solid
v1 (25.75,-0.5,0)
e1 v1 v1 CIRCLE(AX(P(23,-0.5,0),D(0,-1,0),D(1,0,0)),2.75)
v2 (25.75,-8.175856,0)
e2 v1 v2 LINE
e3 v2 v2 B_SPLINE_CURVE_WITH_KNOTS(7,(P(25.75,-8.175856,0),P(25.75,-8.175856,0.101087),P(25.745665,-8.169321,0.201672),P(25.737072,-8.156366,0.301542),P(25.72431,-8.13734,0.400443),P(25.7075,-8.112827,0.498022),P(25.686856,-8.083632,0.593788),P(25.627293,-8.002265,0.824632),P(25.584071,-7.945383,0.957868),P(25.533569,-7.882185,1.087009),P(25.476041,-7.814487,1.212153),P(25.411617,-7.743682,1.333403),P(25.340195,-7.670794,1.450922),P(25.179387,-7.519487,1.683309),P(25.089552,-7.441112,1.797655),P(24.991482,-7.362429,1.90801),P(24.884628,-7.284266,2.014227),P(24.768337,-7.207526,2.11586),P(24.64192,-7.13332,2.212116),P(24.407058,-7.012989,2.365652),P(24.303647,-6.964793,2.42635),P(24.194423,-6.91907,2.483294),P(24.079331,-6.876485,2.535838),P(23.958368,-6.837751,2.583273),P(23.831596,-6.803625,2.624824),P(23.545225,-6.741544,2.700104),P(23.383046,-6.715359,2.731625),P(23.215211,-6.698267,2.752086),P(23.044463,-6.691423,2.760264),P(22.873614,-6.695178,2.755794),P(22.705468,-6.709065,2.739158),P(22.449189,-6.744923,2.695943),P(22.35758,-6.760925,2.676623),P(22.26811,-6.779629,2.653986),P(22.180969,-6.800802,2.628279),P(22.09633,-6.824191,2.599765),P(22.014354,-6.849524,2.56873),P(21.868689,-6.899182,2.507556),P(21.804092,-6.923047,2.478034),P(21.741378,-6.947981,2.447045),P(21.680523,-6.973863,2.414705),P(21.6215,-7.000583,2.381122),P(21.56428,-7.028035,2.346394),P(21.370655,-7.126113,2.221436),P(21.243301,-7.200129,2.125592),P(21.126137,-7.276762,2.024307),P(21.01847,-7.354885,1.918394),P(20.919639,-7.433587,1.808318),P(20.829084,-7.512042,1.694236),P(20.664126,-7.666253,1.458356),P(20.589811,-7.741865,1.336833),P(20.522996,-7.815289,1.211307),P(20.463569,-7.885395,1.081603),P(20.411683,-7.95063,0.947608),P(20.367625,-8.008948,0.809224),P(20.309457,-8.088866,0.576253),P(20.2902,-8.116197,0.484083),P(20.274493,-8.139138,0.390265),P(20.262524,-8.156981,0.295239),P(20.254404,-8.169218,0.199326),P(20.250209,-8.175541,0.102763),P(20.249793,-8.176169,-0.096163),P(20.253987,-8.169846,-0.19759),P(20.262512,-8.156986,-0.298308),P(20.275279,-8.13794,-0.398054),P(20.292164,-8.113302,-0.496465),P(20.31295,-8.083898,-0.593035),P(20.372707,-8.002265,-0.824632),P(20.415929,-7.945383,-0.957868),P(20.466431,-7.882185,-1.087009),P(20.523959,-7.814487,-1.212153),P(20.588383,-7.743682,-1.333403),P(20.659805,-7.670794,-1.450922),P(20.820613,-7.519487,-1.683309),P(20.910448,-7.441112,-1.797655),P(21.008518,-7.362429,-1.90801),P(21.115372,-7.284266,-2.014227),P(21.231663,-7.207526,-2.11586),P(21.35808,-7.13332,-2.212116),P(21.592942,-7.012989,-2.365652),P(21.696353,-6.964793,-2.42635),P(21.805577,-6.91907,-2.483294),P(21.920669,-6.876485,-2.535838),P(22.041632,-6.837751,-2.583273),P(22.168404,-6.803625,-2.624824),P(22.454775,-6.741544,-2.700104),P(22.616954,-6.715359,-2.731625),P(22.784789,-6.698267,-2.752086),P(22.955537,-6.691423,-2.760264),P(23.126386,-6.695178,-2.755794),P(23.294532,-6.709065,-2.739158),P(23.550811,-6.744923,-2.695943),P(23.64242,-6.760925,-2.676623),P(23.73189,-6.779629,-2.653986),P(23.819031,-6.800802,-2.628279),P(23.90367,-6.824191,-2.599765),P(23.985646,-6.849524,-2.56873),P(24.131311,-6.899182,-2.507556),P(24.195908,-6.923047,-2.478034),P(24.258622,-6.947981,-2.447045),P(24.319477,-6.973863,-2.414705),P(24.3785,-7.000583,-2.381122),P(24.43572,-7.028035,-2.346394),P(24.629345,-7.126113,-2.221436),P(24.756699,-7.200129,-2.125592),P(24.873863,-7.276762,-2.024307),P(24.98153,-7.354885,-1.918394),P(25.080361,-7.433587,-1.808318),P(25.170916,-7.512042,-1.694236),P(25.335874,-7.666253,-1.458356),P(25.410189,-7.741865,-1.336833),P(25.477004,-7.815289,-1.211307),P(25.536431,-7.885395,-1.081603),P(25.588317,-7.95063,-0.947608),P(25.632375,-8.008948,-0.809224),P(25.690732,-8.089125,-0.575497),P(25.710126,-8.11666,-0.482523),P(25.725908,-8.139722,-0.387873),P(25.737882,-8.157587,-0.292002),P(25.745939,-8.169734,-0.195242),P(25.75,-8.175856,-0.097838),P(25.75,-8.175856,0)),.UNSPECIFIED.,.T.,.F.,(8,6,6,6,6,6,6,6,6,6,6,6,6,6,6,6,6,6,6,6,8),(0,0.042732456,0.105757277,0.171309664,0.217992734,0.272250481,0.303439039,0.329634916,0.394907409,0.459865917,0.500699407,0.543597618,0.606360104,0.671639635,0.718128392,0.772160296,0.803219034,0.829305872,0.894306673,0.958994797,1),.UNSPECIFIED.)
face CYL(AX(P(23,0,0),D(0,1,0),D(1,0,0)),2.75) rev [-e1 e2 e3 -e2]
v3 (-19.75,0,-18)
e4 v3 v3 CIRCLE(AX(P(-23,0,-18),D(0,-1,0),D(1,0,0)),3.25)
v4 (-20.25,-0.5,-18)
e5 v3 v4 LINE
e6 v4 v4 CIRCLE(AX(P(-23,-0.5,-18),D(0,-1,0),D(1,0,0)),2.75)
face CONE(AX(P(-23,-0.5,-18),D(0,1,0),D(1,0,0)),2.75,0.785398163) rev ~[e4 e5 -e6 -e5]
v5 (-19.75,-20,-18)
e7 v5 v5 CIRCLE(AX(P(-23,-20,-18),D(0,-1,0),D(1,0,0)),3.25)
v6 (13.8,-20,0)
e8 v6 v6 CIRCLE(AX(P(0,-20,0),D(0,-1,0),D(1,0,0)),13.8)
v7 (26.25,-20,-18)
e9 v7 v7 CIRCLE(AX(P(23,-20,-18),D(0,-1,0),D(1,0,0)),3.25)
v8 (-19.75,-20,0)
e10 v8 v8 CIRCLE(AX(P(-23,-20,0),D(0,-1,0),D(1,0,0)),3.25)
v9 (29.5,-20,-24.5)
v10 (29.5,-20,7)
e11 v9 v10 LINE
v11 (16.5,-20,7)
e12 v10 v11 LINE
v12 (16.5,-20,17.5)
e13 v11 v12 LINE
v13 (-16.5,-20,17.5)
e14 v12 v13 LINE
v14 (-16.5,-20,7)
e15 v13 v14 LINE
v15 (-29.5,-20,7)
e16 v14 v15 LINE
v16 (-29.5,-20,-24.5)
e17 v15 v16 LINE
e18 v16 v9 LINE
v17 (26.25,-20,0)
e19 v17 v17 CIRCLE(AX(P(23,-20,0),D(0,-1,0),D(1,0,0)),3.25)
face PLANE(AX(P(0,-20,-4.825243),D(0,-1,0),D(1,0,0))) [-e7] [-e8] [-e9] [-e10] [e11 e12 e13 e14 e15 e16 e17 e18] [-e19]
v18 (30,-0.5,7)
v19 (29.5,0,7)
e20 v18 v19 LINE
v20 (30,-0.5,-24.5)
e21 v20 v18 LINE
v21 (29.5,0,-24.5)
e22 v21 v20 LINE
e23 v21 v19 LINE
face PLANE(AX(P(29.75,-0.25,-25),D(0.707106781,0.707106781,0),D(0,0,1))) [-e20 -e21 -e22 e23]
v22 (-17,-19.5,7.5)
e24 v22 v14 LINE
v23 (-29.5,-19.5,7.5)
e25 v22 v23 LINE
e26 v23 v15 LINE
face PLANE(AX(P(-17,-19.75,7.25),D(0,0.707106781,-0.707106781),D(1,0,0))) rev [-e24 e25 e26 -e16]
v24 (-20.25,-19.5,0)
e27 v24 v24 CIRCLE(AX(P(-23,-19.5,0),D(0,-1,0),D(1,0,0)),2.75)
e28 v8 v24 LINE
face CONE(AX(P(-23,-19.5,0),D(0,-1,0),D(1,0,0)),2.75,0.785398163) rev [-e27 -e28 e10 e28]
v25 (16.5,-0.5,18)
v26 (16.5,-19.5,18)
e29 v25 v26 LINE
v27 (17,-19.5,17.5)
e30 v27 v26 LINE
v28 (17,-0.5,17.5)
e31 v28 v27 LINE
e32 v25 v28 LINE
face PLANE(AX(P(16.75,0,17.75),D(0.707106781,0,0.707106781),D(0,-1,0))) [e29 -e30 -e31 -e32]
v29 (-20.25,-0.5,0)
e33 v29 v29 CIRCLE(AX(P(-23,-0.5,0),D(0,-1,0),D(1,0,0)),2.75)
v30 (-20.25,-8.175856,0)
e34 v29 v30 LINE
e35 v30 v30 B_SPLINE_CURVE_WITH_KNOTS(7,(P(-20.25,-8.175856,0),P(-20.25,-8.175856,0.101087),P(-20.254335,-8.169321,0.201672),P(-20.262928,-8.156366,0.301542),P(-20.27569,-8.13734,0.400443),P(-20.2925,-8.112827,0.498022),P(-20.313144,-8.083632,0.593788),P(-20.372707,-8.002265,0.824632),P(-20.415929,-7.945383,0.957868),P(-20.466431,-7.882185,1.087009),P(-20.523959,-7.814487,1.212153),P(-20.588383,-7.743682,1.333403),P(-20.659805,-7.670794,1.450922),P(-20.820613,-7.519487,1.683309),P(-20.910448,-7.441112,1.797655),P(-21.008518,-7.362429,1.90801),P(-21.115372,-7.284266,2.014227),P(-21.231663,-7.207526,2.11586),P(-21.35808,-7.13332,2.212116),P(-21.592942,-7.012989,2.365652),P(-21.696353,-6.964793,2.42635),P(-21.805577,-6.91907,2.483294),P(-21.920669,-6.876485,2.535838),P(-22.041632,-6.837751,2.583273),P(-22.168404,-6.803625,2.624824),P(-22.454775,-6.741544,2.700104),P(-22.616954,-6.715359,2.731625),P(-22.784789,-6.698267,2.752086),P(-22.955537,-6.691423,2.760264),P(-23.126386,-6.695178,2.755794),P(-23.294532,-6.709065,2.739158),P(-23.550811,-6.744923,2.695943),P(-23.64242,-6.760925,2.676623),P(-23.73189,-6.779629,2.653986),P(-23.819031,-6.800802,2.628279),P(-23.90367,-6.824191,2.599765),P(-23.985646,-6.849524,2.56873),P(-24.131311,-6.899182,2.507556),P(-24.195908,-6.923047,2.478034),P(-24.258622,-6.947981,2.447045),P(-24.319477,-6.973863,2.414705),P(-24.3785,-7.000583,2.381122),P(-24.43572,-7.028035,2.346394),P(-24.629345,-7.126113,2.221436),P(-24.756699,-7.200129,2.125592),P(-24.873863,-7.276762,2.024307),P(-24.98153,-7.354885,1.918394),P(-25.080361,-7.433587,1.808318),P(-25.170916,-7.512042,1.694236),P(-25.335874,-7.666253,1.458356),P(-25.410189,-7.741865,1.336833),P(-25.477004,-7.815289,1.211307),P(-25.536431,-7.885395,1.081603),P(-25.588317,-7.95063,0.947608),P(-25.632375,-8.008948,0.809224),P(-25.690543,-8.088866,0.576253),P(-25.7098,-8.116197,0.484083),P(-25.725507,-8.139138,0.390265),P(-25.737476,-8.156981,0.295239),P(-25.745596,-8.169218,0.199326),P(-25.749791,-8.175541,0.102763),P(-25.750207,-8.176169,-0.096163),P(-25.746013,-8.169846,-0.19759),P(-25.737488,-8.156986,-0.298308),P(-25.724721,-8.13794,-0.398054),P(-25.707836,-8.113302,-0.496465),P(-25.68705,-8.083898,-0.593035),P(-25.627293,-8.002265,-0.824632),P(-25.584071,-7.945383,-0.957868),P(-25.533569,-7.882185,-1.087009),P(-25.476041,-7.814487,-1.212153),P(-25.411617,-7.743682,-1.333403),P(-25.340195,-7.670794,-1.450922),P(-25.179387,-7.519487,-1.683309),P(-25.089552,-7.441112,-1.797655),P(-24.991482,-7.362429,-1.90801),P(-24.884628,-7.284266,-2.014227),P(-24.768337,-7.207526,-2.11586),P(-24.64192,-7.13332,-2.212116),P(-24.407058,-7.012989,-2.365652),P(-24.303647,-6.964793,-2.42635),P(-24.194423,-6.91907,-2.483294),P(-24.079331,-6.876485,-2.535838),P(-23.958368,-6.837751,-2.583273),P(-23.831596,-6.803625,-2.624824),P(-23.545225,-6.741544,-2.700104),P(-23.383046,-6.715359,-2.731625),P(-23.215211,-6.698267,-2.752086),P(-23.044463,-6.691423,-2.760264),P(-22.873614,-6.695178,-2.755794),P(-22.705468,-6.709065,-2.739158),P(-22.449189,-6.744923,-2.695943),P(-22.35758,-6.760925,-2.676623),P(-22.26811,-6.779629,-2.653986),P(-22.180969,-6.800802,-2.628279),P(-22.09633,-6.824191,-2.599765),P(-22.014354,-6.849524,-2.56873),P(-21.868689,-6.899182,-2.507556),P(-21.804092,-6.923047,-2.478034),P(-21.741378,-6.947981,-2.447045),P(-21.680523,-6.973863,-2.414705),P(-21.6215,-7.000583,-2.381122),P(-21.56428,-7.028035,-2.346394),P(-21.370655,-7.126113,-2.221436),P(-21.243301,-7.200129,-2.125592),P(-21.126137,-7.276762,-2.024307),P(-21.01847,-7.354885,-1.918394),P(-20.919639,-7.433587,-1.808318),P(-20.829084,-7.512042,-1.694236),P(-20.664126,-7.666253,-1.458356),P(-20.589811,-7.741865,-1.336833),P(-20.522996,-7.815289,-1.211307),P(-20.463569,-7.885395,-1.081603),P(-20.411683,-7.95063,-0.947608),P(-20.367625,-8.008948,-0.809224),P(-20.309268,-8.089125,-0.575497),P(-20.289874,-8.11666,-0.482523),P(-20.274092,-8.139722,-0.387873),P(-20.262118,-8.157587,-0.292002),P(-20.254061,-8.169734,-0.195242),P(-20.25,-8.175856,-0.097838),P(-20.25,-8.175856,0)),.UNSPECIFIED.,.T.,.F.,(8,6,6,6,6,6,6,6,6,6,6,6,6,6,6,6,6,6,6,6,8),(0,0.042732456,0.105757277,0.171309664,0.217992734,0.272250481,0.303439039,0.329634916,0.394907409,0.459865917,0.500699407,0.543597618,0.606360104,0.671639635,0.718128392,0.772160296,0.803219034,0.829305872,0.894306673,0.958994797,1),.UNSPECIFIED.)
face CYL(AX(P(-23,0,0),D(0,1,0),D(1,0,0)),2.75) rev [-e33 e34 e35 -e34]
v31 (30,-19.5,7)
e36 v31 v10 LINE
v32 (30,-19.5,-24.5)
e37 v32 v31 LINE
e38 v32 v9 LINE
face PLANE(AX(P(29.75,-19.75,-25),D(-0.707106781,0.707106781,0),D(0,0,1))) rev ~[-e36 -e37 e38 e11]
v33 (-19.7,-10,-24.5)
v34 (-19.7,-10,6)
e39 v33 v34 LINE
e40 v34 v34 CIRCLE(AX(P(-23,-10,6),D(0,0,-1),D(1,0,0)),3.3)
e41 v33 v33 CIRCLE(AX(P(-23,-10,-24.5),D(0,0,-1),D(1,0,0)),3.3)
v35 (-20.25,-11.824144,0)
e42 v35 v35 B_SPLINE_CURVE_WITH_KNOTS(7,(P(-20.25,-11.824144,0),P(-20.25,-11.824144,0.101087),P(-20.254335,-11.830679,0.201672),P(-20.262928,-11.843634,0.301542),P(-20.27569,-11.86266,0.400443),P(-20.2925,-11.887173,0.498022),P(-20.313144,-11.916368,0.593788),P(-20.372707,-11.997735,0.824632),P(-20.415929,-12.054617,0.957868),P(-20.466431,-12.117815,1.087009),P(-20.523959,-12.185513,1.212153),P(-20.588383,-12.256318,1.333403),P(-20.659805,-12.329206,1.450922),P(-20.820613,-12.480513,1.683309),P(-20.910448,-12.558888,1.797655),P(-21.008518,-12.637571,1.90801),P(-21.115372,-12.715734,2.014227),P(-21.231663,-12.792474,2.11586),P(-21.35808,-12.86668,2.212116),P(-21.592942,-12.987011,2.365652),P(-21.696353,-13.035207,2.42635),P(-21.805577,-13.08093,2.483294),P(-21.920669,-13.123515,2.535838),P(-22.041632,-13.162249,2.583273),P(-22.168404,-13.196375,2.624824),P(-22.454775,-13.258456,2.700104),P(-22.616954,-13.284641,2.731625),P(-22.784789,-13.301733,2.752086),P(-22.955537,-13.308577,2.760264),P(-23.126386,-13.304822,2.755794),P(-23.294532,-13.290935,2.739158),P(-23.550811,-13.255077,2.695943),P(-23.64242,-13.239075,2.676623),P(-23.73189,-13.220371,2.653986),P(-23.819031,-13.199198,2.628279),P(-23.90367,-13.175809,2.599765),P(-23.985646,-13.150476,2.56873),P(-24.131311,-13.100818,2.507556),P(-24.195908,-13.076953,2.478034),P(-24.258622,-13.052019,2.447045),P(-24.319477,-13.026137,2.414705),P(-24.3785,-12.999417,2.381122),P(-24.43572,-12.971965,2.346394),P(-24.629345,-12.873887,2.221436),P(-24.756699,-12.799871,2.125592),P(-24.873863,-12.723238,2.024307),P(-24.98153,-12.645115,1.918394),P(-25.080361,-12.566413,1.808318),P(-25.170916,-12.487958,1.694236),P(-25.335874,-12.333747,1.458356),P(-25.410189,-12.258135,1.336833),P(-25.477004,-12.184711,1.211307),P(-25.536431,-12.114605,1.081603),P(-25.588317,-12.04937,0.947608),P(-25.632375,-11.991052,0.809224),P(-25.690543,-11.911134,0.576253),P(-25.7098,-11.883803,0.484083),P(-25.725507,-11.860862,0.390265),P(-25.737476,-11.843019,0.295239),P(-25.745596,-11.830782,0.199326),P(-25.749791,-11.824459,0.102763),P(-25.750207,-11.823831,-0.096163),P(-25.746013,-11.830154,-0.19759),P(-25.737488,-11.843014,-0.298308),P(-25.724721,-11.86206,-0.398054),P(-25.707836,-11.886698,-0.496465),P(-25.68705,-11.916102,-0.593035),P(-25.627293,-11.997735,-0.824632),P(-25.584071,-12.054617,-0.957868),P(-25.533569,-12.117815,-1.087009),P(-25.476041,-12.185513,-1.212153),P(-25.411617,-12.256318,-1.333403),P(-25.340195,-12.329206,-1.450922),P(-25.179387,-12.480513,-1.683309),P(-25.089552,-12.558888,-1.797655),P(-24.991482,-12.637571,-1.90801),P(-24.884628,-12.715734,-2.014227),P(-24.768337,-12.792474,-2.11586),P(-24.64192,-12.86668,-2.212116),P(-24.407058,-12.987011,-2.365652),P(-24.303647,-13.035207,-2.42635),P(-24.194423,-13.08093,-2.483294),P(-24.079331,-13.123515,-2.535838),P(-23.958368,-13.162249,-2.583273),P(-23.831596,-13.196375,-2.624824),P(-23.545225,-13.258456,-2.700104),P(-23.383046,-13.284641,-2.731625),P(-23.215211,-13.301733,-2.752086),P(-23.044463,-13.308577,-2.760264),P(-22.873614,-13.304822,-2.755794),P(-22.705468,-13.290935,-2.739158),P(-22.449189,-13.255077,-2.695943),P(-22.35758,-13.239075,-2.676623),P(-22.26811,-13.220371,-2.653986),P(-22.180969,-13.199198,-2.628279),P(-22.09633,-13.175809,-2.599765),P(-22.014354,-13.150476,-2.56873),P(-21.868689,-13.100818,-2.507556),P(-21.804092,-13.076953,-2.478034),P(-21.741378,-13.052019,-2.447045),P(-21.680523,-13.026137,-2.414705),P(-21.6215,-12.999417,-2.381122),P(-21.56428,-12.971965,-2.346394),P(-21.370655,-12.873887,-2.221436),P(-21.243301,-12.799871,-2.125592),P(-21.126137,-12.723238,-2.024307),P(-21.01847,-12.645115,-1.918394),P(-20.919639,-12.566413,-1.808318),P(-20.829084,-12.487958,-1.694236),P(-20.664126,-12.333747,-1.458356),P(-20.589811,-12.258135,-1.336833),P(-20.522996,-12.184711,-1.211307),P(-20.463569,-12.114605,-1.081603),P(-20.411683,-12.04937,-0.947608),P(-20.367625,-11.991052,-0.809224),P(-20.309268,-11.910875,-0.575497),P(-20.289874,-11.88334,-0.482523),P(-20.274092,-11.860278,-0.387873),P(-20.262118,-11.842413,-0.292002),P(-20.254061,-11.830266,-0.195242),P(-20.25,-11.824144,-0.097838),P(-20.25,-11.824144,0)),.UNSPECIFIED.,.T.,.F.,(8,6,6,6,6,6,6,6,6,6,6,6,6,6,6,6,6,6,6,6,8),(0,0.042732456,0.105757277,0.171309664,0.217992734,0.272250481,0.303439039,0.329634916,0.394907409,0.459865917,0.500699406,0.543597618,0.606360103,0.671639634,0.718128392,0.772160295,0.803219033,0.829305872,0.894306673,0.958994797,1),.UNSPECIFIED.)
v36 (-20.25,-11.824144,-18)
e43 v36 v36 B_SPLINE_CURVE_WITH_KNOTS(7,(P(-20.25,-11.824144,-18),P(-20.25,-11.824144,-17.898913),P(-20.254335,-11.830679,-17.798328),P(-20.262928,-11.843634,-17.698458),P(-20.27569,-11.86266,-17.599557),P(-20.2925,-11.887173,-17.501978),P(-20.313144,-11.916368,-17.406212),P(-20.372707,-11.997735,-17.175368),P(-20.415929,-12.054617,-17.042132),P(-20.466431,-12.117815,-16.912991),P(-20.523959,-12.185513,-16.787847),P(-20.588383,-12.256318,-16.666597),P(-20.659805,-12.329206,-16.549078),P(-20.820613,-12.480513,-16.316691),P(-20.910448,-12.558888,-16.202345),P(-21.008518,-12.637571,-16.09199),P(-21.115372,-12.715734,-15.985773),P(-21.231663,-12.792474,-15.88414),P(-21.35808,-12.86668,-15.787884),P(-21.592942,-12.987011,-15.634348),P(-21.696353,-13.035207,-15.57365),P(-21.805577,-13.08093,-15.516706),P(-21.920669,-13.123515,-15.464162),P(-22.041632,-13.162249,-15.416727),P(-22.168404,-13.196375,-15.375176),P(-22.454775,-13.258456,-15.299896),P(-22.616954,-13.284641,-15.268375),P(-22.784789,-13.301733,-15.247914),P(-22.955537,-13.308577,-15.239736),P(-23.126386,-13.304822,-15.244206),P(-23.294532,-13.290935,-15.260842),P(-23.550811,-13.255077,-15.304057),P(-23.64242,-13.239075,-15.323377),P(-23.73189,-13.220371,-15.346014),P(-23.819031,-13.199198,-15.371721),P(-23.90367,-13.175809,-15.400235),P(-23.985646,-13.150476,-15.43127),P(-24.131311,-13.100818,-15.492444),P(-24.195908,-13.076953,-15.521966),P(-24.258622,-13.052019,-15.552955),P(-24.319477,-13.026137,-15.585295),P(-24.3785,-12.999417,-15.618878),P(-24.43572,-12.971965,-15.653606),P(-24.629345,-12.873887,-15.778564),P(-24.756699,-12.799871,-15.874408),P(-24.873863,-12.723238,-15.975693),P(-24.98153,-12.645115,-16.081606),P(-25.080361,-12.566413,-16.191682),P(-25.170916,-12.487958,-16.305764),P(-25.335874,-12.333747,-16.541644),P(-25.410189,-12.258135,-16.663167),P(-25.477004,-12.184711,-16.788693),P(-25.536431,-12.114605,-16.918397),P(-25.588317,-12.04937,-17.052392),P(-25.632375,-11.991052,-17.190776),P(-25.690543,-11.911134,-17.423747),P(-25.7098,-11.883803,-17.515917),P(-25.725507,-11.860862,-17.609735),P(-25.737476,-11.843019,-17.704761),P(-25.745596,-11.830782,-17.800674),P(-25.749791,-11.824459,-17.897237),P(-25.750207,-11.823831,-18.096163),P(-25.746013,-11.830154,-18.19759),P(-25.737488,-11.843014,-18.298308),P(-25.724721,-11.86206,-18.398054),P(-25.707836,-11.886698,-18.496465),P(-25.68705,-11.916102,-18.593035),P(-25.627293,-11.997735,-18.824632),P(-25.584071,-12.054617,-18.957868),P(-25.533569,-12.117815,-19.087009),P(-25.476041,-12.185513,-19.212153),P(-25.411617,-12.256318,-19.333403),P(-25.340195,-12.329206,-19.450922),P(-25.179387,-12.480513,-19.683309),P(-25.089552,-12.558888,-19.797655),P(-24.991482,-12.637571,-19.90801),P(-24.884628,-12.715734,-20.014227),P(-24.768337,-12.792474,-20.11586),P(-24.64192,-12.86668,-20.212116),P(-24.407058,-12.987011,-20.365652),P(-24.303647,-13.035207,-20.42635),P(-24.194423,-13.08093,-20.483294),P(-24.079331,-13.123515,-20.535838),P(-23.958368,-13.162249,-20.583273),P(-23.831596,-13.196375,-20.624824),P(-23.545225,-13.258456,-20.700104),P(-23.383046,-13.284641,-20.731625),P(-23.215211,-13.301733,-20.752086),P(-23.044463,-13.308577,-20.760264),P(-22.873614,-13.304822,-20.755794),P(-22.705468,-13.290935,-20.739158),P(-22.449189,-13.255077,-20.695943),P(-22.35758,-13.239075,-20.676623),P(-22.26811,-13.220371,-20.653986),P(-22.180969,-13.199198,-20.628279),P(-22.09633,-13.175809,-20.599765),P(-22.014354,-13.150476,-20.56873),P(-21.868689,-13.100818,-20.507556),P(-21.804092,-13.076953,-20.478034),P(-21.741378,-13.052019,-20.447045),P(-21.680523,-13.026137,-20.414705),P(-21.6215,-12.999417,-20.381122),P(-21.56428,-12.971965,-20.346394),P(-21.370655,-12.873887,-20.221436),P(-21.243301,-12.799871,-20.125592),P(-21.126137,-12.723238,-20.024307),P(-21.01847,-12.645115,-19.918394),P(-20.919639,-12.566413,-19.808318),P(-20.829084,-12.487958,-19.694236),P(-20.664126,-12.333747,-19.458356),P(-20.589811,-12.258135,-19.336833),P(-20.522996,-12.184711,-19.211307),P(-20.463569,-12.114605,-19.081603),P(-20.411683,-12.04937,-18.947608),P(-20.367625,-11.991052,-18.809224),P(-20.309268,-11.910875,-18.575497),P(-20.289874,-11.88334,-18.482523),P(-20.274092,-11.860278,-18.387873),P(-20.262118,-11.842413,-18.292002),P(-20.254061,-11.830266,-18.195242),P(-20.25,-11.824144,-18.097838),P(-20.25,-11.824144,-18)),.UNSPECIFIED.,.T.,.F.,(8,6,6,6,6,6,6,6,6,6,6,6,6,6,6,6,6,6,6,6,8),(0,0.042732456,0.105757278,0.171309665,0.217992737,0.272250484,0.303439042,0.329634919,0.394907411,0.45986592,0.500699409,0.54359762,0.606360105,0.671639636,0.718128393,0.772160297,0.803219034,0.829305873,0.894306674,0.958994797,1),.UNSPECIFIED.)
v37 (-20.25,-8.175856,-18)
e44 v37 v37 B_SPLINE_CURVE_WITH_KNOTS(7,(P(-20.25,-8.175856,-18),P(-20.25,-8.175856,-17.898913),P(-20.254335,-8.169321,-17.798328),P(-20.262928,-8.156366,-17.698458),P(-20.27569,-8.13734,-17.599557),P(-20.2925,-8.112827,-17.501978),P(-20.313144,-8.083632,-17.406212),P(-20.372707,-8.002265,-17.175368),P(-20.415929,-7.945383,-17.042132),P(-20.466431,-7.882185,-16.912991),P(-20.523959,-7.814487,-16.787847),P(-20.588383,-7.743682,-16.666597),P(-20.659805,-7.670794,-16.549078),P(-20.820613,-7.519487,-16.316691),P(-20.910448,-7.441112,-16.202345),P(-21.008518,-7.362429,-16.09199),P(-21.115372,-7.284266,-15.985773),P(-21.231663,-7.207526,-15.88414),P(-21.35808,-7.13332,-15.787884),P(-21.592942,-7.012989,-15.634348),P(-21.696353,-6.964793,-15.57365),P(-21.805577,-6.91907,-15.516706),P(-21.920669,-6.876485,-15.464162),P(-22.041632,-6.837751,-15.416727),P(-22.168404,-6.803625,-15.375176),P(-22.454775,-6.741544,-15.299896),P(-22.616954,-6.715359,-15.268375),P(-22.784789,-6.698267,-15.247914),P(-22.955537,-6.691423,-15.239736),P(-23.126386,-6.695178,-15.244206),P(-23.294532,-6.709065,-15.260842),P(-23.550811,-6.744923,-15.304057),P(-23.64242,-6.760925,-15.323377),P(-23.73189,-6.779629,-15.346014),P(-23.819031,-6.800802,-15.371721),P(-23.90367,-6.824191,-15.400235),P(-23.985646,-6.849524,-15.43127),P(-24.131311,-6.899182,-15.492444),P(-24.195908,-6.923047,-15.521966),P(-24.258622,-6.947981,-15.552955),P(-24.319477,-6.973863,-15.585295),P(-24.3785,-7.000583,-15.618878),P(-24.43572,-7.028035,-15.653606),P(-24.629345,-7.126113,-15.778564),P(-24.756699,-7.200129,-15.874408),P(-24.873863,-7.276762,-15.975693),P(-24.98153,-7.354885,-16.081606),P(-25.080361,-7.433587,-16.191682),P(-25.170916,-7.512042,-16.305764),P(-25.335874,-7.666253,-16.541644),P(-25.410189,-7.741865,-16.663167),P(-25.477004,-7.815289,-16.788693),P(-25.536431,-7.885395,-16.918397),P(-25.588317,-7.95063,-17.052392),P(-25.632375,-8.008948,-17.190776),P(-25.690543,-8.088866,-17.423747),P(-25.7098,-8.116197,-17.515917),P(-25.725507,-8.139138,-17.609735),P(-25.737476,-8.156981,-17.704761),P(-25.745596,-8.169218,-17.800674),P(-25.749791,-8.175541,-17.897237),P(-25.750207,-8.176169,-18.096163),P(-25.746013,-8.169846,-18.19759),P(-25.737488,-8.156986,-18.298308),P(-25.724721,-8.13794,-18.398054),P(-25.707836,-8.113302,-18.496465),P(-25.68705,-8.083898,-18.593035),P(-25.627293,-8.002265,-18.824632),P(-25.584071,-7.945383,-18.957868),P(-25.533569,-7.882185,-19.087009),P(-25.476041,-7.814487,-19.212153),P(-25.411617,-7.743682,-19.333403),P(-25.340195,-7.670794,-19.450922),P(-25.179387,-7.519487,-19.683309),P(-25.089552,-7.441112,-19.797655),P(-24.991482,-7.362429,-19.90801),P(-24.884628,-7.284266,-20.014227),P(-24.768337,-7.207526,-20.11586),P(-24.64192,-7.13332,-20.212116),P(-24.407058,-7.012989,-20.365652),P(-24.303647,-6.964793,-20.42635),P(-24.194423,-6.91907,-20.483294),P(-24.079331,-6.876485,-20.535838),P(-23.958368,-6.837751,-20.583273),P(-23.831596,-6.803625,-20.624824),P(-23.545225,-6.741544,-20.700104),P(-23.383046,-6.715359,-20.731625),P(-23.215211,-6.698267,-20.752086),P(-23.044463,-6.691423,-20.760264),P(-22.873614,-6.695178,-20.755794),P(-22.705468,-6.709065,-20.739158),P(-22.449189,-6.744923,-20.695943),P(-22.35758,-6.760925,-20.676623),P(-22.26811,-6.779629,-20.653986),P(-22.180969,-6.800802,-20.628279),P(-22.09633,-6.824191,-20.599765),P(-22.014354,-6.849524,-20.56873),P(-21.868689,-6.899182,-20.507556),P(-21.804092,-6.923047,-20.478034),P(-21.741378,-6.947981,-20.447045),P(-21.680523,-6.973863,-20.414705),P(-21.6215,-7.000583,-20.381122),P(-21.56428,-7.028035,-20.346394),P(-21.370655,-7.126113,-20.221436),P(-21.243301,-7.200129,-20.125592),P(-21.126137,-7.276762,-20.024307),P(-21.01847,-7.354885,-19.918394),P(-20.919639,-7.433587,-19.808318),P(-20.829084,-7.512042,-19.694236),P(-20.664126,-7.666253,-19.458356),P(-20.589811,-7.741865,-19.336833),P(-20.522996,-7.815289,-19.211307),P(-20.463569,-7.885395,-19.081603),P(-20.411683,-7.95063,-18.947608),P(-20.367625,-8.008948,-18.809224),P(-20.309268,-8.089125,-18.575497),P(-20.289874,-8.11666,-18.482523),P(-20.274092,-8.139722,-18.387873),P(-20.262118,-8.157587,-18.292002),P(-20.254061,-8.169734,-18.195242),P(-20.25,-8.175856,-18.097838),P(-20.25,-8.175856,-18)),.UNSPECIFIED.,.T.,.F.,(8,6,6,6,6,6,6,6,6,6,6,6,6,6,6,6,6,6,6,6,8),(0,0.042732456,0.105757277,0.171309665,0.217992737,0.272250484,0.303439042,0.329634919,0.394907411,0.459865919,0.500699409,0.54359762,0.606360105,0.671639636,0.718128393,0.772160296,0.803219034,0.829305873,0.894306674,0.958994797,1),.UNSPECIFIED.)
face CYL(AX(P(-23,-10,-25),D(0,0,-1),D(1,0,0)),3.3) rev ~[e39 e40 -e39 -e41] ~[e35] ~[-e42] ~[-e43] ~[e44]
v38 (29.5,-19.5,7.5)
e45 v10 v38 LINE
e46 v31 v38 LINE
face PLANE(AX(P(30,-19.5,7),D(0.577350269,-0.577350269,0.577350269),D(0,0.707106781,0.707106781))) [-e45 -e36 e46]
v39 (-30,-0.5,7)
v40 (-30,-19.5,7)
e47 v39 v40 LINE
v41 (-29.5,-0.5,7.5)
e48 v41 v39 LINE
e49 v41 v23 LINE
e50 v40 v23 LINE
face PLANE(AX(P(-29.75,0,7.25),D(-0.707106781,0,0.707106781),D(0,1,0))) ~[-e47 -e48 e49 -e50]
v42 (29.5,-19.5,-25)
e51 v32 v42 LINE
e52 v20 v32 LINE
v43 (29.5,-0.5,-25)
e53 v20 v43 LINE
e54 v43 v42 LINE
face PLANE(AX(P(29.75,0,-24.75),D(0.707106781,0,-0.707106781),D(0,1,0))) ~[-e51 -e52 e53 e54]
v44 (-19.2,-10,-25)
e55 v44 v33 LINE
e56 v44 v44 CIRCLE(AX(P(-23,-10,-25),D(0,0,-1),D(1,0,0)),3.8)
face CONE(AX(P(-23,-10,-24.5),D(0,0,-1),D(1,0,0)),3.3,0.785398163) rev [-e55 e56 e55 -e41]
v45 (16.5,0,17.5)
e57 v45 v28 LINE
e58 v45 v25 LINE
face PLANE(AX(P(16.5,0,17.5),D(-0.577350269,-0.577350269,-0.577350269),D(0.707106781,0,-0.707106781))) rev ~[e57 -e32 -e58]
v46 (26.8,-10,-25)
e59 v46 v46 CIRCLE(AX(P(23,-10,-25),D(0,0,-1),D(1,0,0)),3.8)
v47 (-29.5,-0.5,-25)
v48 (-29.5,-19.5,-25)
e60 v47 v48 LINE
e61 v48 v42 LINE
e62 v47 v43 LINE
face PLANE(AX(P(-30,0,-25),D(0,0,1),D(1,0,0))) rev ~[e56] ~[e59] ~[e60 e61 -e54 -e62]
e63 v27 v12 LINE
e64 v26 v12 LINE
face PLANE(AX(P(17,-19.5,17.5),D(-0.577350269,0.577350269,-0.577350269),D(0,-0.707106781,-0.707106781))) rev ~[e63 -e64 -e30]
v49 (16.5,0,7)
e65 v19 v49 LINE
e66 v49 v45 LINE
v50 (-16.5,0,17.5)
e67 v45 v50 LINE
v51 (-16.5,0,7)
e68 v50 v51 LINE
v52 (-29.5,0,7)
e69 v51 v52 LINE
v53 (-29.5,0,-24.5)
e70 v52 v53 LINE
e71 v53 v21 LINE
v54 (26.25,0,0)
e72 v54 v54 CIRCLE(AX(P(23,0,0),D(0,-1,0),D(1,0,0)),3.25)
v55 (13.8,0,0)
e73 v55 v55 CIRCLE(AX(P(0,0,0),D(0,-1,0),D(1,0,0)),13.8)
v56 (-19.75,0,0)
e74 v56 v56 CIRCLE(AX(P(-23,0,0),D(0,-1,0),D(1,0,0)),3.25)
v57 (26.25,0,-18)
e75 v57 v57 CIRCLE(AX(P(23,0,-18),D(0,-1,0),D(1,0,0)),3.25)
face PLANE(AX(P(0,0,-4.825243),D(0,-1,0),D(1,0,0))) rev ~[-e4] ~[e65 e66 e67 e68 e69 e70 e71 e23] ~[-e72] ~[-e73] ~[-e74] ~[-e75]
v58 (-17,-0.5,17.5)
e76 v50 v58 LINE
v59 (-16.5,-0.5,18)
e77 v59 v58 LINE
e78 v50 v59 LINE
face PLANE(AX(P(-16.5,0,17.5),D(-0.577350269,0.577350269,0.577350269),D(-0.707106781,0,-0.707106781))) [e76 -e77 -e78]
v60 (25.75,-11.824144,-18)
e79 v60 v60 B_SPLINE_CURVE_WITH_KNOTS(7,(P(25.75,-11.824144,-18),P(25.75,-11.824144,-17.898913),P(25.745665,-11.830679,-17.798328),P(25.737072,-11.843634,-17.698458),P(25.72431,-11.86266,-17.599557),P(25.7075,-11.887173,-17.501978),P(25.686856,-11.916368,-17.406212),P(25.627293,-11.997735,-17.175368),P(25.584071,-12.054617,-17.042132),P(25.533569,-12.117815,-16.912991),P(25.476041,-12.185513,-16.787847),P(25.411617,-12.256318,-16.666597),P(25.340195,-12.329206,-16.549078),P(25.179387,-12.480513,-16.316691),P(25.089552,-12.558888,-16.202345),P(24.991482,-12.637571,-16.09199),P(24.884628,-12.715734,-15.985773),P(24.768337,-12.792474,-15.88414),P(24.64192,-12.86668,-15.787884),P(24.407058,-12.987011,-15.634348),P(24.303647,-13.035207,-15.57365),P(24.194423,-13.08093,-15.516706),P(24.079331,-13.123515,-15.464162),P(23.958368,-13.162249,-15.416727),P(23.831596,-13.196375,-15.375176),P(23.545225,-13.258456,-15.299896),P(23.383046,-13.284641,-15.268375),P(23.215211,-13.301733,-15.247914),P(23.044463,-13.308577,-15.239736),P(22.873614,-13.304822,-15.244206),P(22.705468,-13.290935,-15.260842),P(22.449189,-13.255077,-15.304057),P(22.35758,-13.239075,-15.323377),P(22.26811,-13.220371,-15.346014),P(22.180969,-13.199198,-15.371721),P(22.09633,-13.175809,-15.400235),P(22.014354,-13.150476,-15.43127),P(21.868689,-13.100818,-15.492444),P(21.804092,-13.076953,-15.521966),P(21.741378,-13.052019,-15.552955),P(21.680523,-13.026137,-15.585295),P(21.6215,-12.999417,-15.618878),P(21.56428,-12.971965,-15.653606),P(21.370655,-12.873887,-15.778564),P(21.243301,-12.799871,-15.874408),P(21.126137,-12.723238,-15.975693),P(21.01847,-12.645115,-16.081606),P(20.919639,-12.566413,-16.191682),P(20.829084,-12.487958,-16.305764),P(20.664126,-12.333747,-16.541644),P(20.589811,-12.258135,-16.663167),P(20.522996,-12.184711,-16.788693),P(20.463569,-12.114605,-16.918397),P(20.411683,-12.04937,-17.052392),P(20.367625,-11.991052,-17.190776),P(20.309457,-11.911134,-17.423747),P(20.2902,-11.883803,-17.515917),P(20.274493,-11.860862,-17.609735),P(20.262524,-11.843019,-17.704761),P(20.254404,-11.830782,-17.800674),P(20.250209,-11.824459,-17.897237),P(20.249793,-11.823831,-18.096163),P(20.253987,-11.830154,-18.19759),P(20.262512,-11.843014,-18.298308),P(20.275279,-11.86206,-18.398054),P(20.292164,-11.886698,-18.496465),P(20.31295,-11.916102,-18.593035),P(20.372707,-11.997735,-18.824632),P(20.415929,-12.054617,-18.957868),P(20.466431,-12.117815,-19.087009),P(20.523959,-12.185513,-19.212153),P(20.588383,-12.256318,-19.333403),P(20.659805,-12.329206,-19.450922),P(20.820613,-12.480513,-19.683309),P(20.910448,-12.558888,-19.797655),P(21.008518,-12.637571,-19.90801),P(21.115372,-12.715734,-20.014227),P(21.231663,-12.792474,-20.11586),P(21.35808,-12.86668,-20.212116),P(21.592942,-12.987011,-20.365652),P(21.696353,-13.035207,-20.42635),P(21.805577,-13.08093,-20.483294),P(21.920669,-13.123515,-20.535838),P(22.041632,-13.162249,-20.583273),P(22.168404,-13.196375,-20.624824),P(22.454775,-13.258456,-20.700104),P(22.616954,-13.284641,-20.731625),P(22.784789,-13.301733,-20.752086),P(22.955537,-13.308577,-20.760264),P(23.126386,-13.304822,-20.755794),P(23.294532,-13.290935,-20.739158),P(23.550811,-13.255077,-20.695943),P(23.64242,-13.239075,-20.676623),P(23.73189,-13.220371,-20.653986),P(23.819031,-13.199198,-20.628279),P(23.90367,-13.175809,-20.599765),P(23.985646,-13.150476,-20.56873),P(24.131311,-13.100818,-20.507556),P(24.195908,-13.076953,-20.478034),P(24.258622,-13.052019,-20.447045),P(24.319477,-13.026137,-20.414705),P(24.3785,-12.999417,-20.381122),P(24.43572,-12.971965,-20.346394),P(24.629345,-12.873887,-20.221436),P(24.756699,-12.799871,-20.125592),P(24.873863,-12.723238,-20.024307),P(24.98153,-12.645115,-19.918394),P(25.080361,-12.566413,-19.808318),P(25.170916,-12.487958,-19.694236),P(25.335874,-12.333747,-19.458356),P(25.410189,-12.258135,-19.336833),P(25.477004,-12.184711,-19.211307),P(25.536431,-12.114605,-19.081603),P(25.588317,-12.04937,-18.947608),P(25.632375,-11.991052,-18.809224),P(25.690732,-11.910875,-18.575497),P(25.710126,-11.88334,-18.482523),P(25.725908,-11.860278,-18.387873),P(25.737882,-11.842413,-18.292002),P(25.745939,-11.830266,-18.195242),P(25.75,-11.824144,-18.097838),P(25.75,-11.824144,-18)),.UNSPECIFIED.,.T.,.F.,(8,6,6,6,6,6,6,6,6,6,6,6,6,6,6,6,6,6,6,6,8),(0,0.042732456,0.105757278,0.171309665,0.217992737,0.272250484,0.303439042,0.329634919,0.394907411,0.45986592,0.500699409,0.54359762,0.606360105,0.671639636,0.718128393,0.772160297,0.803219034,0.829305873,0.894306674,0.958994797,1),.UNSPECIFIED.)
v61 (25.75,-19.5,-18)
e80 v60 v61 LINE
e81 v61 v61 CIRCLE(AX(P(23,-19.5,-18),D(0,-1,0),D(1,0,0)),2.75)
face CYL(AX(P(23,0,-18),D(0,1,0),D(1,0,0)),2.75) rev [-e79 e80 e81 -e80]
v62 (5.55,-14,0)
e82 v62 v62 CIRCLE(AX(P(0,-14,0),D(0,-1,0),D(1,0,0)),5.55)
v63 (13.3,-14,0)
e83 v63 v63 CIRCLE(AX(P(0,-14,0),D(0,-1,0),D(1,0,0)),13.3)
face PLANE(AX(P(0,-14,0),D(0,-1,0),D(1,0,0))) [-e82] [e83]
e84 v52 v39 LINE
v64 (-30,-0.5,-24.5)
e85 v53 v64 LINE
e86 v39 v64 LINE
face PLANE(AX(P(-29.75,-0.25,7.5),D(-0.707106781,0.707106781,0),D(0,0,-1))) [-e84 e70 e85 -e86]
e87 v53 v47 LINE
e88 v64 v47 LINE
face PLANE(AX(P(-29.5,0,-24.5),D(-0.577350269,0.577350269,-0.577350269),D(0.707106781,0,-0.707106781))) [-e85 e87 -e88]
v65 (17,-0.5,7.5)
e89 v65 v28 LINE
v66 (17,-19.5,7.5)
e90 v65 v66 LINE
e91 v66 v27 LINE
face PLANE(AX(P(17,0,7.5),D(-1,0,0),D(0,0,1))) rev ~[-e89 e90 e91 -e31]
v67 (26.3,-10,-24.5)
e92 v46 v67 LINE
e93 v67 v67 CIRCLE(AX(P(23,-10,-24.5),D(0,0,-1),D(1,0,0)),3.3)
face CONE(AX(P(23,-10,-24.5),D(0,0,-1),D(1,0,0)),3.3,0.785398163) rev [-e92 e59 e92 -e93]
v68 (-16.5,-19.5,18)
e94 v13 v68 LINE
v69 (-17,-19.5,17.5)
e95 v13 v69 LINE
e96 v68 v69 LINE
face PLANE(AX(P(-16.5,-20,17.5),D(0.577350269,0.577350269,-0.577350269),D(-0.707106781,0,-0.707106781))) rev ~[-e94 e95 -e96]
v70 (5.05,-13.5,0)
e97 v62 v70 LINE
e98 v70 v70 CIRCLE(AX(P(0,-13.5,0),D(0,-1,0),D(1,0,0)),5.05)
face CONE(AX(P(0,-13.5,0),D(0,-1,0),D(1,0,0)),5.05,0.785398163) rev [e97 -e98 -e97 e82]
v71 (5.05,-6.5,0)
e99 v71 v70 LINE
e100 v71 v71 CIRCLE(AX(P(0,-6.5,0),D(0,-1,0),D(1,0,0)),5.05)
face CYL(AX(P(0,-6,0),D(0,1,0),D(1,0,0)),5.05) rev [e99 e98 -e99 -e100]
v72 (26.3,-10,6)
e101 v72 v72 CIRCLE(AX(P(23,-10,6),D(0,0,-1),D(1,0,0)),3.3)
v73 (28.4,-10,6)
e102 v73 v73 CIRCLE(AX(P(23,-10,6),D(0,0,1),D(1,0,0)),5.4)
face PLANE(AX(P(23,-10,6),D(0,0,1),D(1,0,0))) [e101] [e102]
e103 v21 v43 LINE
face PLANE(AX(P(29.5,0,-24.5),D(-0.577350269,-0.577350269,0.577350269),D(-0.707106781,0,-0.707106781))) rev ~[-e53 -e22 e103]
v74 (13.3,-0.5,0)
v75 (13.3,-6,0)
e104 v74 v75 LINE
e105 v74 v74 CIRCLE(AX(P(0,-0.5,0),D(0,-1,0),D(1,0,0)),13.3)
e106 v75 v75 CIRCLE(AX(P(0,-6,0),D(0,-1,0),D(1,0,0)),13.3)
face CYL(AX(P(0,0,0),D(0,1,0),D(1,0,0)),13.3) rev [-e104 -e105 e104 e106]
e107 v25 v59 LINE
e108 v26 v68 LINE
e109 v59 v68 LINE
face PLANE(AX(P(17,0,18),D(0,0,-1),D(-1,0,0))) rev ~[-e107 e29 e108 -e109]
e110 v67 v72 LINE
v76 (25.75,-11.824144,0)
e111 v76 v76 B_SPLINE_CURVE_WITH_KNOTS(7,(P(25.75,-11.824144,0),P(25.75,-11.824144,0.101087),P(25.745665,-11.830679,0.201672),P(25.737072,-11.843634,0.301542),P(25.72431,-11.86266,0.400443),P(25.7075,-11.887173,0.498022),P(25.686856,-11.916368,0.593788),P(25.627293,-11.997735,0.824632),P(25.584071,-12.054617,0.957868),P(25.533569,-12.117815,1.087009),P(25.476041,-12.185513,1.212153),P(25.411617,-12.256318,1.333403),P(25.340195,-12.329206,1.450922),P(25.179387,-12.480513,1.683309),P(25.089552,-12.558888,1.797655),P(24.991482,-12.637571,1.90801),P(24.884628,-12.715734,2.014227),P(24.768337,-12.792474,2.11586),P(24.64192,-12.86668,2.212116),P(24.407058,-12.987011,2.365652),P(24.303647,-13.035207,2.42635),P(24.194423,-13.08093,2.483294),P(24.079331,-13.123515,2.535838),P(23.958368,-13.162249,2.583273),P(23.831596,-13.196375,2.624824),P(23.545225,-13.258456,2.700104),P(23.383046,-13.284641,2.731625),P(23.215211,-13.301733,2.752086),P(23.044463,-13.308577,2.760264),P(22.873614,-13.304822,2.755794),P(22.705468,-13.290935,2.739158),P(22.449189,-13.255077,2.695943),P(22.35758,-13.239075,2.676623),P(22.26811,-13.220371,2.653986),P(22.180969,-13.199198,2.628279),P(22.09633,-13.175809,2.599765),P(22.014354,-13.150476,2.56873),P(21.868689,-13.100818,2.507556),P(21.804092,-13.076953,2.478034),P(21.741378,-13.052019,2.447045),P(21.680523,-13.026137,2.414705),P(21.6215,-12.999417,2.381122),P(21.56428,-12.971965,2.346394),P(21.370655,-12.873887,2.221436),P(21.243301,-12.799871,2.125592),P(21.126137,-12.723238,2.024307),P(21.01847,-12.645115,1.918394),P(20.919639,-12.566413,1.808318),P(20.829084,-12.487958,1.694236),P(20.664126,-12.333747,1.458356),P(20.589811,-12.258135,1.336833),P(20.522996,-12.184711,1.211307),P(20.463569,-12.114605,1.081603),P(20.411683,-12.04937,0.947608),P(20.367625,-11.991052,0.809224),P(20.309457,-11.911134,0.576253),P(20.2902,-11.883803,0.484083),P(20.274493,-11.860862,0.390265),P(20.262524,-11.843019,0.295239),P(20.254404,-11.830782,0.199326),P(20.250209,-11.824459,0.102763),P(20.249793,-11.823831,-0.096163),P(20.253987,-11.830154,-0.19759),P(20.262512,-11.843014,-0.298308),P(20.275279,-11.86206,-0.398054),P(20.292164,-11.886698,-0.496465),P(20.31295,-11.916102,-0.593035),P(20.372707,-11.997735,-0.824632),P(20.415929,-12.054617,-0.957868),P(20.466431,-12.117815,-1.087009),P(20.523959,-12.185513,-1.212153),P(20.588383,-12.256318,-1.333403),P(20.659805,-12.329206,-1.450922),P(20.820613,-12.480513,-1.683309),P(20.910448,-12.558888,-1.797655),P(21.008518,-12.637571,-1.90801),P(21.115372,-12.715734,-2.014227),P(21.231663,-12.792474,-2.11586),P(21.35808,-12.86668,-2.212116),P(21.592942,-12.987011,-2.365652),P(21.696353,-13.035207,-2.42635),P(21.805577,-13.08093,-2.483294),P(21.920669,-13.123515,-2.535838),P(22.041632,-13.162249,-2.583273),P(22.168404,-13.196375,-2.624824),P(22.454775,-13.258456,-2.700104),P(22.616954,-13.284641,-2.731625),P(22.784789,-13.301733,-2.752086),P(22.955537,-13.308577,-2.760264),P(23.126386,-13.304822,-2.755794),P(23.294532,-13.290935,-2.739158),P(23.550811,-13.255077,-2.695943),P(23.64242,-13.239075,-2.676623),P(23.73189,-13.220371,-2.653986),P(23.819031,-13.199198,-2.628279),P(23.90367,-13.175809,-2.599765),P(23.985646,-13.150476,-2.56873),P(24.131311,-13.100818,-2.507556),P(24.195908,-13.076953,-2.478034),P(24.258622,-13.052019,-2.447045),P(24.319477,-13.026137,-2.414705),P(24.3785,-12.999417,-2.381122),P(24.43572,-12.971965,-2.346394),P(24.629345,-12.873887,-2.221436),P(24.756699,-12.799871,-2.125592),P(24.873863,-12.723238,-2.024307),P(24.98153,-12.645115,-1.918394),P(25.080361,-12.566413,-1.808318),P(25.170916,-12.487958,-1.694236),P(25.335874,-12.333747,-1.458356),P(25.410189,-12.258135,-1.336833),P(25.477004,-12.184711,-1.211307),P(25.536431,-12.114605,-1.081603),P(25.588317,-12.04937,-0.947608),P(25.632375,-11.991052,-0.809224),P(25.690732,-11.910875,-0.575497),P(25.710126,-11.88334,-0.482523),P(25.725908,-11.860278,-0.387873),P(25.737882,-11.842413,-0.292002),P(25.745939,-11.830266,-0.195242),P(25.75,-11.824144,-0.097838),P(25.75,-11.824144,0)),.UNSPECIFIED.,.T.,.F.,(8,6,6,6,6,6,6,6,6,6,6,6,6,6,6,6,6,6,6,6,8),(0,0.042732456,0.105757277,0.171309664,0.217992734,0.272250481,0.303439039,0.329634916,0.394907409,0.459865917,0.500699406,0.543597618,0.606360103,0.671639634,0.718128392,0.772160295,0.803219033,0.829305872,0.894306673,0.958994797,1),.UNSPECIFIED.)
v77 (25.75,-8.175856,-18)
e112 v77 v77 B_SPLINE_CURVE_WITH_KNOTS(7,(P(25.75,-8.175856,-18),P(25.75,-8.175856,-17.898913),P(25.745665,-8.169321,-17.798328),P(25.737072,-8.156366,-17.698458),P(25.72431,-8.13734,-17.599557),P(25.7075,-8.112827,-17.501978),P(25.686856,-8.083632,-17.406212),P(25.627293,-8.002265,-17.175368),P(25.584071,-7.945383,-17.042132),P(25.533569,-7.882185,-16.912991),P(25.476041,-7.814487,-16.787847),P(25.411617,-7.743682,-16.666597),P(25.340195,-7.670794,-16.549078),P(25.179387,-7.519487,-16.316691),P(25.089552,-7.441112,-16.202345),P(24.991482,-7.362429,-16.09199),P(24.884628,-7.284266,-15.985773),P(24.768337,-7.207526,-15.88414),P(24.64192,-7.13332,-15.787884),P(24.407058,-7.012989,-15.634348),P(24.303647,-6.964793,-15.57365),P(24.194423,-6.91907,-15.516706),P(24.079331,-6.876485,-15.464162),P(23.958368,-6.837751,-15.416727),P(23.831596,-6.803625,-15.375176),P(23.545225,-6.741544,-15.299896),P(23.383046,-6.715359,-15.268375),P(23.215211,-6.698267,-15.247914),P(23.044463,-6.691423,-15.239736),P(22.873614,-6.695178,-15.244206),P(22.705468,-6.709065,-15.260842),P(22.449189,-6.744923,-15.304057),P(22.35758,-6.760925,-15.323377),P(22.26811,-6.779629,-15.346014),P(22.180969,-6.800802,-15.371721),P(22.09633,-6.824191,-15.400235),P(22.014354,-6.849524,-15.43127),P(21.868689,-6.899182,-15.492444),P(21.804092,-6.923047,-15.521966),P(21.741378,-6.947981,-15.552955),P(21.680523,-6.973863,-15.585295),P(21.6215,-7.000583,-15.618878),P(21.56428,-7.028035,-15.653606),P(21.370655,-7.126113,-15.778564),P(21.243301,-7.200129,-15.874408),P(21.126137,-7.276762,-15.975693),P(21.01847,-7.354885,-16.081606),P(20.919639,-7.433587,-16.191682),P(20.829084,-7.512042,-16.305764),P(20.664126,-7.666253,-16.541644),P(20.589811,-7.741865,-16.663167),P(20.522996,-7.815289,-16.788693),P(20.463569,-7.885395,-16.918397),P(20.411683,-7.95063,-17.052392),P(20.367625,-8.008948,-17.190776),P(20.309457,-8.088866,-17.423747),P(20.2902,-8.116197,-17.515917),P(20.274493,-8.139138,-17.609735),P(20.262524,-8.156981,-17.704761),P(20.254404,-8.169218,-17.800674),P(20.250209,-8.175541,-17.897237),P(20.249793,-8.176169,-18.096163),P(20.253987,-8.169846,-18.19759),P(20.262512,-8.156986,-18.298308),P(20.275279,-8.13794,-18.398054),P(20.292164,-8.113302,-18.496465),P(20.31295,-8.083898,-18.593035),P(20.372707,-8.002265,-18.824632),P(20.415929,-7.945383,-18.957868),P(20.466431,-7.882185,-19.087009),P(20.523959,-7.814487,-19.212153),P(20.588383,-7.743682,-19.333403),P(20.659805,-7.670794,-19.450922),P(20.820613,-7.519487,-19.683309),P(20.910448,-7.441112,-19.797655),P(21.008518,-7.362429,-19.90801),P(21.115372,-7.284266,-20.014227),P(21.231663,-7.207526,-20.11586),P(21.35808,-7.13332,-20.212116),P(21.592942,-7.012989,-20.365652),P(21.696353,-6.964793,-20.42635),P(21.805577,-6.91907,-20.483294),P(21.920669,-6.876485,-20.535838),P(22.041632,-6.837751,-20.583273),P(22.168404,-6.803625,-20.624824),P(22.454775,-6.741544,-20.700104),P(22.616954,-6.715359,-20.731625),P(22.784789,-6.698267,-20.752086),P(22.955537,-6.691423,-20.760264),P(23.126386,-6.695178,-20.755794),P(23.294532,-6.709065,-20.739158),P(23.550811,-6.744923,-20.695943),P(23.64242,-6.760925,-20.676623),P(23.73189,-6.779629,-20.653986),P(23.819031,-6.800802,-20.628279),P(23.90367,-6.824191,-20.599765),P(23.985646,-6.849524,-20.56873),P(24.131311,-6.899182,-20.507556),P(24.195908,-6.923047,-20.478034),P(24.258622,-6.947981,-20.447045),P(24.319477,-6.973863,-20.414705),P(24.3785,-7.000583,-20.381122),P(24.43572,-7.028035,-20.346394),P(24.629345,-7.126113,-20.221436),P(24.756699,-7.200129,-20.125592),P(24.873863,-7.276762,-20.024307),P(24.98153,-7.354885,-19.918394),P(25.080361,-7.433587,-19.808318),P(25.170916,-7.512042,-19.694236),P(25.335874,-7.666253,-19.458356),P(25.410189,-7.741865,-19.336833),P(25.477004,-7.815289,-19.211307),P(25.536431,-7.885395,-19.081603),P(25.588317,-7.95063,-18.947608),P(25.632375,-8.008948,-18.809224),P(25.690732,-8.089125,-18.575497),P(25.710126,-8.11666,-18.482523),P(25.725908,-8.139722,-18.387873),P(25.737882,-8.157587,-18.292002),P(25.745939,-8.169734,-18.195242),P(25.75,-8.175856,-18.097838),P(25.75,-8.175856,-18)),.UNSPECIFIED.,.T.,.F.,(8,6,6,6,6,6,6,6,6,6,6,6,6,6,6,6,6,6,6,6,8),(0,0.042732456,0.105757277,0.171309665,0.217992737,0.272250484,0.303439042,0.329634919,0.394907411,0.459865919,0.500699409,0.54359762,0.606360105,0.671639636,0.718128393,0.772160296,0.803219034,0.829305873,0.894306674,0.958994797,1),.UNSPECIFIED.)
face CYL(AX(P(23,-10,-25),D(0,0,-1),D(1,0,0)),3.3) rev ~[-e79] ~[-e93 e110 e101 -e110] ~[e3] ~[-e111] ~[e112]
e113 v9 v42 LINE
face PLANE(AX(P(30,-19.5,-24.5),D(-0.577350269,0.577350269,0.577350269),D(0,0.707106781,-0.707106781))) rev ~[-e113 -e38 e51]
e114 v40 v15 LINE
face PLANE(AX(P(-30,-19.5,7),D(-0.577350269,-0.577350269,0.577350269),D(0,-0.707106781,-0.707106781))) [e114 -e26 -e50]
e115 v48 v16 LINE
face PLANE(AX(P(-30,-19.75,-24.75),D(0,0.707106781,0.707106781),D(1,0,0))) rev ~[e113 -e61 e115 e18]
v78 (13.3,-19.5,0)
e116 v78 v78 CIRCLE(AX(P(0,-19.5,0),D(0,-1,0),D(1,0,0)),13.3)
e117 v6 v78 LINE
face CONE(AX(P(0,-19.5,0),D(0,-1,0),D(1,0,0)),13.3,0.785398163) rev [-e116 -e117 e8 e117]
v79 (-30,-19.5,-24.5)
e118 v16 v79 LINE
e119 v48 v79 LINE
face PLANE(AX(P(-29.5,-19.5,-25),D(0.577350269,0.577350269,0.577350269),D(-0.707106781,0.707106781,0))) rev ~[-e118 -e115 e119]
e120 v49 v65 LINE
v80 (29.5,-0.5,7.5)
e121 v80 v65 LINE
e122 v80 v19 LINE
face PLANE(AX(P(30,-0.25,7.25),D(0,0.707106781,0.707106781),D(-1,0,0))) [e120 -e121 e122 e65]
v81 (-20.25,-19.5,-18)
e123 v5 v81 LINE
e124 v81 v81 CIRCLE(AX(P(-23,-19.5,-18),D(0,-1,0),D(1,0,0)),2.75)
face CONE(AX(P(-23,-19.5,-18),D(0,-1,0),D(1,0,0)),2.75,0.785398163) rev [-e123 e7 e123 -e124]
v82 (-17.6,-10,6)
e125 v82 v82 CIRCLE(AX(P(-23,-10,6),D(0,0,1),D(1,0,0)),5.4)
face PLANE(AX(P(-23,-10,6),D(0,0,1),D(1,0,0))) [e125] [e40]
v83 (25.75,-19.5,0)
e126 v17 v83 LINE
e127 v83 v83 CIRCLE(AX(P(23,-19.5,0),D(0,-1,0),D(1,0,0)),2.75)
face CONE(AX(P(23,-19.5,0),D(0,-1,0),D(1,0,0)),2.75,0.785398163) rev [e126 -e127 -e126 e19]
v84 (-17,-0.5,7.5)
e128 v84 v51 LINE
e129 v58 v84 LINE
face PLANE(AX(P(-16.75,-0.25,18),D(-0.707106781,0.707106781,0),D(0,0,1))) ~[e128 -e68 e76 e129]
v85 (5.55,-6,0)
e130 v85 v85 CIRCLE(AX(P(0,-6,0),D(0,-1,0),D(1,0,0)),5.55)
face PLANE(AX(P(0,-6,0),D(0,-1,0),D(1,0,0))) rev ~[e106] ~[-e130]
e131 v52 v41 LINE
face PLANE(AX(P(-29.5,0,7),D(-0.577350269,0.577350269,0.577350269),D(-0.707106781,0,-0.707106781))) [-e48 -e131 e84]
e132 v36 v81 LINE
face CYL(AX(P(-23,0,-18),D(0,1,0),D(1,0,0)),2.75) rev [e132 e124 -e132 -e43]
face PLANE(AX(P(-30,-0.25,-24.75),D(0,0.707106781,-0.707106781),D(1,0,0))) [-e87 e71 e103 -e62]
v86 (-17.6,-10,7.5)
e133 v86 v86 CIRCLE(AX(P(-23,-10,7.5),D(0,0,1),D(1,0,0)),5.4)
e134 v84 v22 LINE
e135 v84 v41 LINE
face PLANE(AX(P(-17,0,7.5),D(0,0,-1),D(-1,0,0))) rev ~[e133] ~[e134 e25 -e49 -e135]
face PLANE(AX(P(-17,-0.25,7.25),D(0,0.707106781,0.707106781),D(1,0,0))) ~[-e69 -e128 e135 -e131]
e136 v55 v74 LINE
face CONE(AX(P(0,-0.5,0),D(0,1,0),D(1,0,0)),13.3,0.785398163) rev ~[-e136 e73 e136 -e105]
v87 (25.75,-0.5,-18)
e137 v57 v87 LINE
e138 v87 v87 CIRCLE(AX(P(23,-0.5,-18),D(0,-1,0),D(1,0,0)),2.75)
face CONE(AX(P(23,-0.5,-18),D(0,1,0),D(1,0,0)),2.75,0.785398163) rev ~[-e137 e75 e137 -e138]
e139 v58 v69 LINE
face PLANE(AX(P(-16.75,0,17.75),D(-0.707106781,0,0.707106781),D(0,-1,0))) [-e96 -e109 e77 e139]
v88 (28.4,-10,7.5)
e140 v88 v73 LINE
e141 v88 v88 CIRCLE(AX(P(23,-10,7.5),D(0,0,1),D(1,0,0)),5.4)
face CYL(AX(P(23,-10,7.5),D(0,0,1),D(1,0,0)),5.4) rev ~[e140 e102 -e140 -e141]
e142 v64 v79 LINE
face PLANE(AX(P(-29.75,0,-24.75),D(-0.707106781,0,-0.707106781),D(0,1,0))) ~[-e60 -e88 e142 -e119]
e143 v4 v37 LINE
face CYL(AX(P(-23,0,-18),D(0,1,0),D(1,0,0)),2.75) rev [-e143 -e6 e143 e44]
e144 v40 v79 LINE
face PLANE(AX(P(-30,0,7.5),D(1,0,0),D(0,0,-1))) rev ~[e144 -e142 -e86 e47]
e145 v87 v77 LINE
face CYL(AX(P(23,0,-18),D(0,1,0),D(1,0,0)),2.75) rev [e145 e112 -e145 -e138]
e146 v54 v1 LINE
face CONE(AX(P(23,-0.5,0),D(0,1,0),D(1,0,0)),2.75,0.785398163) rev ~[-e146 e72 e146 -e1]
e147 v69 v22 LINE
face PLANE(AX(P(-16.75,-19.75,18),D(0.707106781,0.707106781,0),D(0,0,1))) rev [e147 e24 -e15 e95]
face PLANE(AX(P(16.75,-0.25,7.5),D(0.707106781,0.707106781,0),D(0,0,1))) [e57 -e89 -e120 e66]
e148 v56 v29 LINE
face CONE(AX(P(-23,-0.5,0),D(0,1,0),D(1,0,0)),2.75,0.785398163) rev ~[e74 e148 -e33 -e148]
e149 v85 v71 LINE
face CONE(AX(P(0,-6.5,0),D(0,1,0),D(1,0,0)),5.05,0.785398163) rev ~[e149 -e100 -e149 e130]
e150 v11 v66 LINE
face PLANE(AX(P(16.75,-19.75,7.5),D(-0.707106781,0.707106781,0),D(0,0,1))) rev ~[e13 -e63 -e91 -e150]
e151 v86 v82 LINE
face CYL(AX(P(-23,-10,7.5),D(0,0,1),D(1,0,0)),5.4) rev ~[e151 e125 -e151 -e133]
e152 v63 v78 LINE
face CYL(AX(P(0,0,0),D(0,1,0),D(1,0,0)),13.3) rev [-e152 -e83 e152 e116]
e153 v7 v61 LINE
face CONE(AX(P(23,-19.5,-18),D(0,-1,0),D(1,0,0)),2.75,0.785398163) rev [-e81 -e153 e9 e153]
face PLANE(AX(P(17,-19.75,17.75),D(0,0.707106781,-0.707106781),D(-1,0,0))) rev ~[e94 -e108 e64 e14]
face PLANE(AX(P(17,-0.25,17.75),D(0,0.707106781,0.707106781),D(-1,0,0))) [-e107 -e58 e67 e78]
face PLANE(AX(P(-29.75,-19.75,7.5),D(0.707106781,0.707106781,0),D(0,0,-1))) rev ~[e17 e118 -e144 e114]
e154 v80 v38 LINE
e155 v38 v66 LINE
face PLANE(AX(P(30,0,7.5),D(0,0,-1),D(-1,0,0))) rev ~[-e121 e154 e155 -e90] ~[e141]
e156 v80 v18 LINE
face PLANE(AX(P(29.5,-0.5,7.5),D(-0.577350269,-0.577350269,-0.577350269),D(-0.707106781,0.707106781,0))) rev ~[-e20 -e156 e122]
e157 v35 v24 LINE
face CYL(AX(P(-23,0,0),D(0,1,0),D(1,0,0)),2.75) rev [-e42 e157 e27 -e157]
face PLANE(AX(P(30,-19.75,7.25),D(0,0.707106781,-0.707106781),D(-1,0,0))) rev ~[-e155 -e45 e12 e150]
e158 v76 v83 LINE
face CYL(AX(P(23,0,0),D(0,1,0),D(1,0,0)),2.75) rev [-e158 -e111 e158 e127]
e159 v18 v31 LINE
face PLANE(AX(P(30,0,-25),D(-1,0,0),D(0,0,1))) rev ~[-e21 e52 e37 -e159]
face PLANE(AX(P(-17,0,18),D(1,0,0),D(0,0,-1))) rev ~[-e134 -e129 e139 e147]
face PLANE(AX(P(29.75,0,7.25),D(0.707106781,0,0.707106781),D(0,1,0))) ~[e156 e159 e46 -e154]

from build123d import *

# Parameters (mm, degrees)
F1_R      = 2.75
F2_DEPTH  = 20
F0_R      = 13.3
F3_DEPTH  = 20
F5_R      = 13.3
F5_R_2    = 5.05
F6_DEPTH  = 8
F7_R      = 3.3
F8_DEPTH  = 32.5
F9_R      = 5.4
F10_DEPTH = 1.5
F11_SIZE  = 0.5


with BuildPart() as f2:
    # F1 (on Front) → F2 (new body)
    with BuildSketch(Plane.XZ):
        Polygon((-17, 7.5), (-30, 7.5), (-30, -25), (30, -25), (30, 7.5), (17, 7.5), (17, 18), (-17, 18), align=None)
        with Locations((-23, -18)):
            Circle(F1_R, mode=Mode.SUBTRACT)
        with Locations((23, -18)):
            Circle(F1_R, mode=Mode.SUBTRACT)
        with Locations((-23, 0)):
            Circle(F1_R, mode=Mode.SUBTRACT)
        with Locations((23, 0)):
            Circle(F1_R, mode=Mode.SUBTRACT)
    extrude(amount=F2_DEPTH)

    # F0 (on Front) → F3 (cut, through all)
    with BuildSketch(Plane.XZ):
        Circle(F0_R)
    extrude(amount=F3_DEPTH, mode=Mode.SUBTRACT)

    # F5 (on offset) → F6 (join)
    with BuildSketch(Plane.XZ.offset(6)):
        Circle(F5_R)
        Circle(F5_R_2, mode=Mode.SUBTRACT)
    extrude(amount=F6_DEPTH)

    # F7 (on face) → F8 (cut, through all)
    with BuildSketch(Plane(origin=(0, 0, -25), x_dir=(1, 0, 0), z_dir=(0, 0, -1))):
        with Locations((-23, 10)):
            Circle(F7_R)
        with Locations((23, 10)):
            Circle(F7_R)
    extrude(amount=-F8_DEPTH, mode=Mode.SUBTRACT)

    # F9 (on face) → F10 (cut)
    with BuildSketch(Plane.XY.offset(7.5)):
        with Locations((-22.9999999999, -10)):
            Circle(F9_R)
        with Locations((23, -10)):
            Circle(F9_R)
    extrude(amount=-F10_DEPTH, mode=Mode.SUBTRACT)

    # F11
    f11_edges = [f2.edges().sort_by_distance(p)[0] for p in [
        (-17, -10, 18),
        (0, -20, 18),
        (17, -10, 18),
        (0, 0, 18),
        (-23.5, -20, 7.5),
        (-30, -10, 7.5),
        (-23.5, 0, 7.5),
        (23.5, -20, 7.5),
        (17, -20, 12.75),
        (-17, -20, 12.75),
        (-30, -20, -8.75),
        (0, -20, -25),
        (-25.75, -20, -18),
        (-25.75, -20, 0),
        (20.25, -20, 0),
        (20.25, -20, -18),
        (-13.3, -20, 0),
        (30, -20, -8.75),
        (30, -10, -25),
        (30, 0, -8.75),
        (30, -10, 7.5),
        (23.5, 0, 7.5),
        (17, 0, 12.75),
        (-5.05, -14, 0),
        (20.25, 0, 0),
        (20.25, 0, -18),
        (-25.75, 0, 0),
        (-13.3, 0, 0),
        (-30, -10, -25),
        (-30, 0, -8.75),
        (-17, 0, 12.75),
        (-25.75, 0, -18),
        (0, 0, -25),
        (-5.05, -6, 0),
        (-26.3, -10, -25),
        (19.7, -10, -25),
    ]]
    chamfer(f11_edges, length=F11_SIZE)


solid = f2.part
